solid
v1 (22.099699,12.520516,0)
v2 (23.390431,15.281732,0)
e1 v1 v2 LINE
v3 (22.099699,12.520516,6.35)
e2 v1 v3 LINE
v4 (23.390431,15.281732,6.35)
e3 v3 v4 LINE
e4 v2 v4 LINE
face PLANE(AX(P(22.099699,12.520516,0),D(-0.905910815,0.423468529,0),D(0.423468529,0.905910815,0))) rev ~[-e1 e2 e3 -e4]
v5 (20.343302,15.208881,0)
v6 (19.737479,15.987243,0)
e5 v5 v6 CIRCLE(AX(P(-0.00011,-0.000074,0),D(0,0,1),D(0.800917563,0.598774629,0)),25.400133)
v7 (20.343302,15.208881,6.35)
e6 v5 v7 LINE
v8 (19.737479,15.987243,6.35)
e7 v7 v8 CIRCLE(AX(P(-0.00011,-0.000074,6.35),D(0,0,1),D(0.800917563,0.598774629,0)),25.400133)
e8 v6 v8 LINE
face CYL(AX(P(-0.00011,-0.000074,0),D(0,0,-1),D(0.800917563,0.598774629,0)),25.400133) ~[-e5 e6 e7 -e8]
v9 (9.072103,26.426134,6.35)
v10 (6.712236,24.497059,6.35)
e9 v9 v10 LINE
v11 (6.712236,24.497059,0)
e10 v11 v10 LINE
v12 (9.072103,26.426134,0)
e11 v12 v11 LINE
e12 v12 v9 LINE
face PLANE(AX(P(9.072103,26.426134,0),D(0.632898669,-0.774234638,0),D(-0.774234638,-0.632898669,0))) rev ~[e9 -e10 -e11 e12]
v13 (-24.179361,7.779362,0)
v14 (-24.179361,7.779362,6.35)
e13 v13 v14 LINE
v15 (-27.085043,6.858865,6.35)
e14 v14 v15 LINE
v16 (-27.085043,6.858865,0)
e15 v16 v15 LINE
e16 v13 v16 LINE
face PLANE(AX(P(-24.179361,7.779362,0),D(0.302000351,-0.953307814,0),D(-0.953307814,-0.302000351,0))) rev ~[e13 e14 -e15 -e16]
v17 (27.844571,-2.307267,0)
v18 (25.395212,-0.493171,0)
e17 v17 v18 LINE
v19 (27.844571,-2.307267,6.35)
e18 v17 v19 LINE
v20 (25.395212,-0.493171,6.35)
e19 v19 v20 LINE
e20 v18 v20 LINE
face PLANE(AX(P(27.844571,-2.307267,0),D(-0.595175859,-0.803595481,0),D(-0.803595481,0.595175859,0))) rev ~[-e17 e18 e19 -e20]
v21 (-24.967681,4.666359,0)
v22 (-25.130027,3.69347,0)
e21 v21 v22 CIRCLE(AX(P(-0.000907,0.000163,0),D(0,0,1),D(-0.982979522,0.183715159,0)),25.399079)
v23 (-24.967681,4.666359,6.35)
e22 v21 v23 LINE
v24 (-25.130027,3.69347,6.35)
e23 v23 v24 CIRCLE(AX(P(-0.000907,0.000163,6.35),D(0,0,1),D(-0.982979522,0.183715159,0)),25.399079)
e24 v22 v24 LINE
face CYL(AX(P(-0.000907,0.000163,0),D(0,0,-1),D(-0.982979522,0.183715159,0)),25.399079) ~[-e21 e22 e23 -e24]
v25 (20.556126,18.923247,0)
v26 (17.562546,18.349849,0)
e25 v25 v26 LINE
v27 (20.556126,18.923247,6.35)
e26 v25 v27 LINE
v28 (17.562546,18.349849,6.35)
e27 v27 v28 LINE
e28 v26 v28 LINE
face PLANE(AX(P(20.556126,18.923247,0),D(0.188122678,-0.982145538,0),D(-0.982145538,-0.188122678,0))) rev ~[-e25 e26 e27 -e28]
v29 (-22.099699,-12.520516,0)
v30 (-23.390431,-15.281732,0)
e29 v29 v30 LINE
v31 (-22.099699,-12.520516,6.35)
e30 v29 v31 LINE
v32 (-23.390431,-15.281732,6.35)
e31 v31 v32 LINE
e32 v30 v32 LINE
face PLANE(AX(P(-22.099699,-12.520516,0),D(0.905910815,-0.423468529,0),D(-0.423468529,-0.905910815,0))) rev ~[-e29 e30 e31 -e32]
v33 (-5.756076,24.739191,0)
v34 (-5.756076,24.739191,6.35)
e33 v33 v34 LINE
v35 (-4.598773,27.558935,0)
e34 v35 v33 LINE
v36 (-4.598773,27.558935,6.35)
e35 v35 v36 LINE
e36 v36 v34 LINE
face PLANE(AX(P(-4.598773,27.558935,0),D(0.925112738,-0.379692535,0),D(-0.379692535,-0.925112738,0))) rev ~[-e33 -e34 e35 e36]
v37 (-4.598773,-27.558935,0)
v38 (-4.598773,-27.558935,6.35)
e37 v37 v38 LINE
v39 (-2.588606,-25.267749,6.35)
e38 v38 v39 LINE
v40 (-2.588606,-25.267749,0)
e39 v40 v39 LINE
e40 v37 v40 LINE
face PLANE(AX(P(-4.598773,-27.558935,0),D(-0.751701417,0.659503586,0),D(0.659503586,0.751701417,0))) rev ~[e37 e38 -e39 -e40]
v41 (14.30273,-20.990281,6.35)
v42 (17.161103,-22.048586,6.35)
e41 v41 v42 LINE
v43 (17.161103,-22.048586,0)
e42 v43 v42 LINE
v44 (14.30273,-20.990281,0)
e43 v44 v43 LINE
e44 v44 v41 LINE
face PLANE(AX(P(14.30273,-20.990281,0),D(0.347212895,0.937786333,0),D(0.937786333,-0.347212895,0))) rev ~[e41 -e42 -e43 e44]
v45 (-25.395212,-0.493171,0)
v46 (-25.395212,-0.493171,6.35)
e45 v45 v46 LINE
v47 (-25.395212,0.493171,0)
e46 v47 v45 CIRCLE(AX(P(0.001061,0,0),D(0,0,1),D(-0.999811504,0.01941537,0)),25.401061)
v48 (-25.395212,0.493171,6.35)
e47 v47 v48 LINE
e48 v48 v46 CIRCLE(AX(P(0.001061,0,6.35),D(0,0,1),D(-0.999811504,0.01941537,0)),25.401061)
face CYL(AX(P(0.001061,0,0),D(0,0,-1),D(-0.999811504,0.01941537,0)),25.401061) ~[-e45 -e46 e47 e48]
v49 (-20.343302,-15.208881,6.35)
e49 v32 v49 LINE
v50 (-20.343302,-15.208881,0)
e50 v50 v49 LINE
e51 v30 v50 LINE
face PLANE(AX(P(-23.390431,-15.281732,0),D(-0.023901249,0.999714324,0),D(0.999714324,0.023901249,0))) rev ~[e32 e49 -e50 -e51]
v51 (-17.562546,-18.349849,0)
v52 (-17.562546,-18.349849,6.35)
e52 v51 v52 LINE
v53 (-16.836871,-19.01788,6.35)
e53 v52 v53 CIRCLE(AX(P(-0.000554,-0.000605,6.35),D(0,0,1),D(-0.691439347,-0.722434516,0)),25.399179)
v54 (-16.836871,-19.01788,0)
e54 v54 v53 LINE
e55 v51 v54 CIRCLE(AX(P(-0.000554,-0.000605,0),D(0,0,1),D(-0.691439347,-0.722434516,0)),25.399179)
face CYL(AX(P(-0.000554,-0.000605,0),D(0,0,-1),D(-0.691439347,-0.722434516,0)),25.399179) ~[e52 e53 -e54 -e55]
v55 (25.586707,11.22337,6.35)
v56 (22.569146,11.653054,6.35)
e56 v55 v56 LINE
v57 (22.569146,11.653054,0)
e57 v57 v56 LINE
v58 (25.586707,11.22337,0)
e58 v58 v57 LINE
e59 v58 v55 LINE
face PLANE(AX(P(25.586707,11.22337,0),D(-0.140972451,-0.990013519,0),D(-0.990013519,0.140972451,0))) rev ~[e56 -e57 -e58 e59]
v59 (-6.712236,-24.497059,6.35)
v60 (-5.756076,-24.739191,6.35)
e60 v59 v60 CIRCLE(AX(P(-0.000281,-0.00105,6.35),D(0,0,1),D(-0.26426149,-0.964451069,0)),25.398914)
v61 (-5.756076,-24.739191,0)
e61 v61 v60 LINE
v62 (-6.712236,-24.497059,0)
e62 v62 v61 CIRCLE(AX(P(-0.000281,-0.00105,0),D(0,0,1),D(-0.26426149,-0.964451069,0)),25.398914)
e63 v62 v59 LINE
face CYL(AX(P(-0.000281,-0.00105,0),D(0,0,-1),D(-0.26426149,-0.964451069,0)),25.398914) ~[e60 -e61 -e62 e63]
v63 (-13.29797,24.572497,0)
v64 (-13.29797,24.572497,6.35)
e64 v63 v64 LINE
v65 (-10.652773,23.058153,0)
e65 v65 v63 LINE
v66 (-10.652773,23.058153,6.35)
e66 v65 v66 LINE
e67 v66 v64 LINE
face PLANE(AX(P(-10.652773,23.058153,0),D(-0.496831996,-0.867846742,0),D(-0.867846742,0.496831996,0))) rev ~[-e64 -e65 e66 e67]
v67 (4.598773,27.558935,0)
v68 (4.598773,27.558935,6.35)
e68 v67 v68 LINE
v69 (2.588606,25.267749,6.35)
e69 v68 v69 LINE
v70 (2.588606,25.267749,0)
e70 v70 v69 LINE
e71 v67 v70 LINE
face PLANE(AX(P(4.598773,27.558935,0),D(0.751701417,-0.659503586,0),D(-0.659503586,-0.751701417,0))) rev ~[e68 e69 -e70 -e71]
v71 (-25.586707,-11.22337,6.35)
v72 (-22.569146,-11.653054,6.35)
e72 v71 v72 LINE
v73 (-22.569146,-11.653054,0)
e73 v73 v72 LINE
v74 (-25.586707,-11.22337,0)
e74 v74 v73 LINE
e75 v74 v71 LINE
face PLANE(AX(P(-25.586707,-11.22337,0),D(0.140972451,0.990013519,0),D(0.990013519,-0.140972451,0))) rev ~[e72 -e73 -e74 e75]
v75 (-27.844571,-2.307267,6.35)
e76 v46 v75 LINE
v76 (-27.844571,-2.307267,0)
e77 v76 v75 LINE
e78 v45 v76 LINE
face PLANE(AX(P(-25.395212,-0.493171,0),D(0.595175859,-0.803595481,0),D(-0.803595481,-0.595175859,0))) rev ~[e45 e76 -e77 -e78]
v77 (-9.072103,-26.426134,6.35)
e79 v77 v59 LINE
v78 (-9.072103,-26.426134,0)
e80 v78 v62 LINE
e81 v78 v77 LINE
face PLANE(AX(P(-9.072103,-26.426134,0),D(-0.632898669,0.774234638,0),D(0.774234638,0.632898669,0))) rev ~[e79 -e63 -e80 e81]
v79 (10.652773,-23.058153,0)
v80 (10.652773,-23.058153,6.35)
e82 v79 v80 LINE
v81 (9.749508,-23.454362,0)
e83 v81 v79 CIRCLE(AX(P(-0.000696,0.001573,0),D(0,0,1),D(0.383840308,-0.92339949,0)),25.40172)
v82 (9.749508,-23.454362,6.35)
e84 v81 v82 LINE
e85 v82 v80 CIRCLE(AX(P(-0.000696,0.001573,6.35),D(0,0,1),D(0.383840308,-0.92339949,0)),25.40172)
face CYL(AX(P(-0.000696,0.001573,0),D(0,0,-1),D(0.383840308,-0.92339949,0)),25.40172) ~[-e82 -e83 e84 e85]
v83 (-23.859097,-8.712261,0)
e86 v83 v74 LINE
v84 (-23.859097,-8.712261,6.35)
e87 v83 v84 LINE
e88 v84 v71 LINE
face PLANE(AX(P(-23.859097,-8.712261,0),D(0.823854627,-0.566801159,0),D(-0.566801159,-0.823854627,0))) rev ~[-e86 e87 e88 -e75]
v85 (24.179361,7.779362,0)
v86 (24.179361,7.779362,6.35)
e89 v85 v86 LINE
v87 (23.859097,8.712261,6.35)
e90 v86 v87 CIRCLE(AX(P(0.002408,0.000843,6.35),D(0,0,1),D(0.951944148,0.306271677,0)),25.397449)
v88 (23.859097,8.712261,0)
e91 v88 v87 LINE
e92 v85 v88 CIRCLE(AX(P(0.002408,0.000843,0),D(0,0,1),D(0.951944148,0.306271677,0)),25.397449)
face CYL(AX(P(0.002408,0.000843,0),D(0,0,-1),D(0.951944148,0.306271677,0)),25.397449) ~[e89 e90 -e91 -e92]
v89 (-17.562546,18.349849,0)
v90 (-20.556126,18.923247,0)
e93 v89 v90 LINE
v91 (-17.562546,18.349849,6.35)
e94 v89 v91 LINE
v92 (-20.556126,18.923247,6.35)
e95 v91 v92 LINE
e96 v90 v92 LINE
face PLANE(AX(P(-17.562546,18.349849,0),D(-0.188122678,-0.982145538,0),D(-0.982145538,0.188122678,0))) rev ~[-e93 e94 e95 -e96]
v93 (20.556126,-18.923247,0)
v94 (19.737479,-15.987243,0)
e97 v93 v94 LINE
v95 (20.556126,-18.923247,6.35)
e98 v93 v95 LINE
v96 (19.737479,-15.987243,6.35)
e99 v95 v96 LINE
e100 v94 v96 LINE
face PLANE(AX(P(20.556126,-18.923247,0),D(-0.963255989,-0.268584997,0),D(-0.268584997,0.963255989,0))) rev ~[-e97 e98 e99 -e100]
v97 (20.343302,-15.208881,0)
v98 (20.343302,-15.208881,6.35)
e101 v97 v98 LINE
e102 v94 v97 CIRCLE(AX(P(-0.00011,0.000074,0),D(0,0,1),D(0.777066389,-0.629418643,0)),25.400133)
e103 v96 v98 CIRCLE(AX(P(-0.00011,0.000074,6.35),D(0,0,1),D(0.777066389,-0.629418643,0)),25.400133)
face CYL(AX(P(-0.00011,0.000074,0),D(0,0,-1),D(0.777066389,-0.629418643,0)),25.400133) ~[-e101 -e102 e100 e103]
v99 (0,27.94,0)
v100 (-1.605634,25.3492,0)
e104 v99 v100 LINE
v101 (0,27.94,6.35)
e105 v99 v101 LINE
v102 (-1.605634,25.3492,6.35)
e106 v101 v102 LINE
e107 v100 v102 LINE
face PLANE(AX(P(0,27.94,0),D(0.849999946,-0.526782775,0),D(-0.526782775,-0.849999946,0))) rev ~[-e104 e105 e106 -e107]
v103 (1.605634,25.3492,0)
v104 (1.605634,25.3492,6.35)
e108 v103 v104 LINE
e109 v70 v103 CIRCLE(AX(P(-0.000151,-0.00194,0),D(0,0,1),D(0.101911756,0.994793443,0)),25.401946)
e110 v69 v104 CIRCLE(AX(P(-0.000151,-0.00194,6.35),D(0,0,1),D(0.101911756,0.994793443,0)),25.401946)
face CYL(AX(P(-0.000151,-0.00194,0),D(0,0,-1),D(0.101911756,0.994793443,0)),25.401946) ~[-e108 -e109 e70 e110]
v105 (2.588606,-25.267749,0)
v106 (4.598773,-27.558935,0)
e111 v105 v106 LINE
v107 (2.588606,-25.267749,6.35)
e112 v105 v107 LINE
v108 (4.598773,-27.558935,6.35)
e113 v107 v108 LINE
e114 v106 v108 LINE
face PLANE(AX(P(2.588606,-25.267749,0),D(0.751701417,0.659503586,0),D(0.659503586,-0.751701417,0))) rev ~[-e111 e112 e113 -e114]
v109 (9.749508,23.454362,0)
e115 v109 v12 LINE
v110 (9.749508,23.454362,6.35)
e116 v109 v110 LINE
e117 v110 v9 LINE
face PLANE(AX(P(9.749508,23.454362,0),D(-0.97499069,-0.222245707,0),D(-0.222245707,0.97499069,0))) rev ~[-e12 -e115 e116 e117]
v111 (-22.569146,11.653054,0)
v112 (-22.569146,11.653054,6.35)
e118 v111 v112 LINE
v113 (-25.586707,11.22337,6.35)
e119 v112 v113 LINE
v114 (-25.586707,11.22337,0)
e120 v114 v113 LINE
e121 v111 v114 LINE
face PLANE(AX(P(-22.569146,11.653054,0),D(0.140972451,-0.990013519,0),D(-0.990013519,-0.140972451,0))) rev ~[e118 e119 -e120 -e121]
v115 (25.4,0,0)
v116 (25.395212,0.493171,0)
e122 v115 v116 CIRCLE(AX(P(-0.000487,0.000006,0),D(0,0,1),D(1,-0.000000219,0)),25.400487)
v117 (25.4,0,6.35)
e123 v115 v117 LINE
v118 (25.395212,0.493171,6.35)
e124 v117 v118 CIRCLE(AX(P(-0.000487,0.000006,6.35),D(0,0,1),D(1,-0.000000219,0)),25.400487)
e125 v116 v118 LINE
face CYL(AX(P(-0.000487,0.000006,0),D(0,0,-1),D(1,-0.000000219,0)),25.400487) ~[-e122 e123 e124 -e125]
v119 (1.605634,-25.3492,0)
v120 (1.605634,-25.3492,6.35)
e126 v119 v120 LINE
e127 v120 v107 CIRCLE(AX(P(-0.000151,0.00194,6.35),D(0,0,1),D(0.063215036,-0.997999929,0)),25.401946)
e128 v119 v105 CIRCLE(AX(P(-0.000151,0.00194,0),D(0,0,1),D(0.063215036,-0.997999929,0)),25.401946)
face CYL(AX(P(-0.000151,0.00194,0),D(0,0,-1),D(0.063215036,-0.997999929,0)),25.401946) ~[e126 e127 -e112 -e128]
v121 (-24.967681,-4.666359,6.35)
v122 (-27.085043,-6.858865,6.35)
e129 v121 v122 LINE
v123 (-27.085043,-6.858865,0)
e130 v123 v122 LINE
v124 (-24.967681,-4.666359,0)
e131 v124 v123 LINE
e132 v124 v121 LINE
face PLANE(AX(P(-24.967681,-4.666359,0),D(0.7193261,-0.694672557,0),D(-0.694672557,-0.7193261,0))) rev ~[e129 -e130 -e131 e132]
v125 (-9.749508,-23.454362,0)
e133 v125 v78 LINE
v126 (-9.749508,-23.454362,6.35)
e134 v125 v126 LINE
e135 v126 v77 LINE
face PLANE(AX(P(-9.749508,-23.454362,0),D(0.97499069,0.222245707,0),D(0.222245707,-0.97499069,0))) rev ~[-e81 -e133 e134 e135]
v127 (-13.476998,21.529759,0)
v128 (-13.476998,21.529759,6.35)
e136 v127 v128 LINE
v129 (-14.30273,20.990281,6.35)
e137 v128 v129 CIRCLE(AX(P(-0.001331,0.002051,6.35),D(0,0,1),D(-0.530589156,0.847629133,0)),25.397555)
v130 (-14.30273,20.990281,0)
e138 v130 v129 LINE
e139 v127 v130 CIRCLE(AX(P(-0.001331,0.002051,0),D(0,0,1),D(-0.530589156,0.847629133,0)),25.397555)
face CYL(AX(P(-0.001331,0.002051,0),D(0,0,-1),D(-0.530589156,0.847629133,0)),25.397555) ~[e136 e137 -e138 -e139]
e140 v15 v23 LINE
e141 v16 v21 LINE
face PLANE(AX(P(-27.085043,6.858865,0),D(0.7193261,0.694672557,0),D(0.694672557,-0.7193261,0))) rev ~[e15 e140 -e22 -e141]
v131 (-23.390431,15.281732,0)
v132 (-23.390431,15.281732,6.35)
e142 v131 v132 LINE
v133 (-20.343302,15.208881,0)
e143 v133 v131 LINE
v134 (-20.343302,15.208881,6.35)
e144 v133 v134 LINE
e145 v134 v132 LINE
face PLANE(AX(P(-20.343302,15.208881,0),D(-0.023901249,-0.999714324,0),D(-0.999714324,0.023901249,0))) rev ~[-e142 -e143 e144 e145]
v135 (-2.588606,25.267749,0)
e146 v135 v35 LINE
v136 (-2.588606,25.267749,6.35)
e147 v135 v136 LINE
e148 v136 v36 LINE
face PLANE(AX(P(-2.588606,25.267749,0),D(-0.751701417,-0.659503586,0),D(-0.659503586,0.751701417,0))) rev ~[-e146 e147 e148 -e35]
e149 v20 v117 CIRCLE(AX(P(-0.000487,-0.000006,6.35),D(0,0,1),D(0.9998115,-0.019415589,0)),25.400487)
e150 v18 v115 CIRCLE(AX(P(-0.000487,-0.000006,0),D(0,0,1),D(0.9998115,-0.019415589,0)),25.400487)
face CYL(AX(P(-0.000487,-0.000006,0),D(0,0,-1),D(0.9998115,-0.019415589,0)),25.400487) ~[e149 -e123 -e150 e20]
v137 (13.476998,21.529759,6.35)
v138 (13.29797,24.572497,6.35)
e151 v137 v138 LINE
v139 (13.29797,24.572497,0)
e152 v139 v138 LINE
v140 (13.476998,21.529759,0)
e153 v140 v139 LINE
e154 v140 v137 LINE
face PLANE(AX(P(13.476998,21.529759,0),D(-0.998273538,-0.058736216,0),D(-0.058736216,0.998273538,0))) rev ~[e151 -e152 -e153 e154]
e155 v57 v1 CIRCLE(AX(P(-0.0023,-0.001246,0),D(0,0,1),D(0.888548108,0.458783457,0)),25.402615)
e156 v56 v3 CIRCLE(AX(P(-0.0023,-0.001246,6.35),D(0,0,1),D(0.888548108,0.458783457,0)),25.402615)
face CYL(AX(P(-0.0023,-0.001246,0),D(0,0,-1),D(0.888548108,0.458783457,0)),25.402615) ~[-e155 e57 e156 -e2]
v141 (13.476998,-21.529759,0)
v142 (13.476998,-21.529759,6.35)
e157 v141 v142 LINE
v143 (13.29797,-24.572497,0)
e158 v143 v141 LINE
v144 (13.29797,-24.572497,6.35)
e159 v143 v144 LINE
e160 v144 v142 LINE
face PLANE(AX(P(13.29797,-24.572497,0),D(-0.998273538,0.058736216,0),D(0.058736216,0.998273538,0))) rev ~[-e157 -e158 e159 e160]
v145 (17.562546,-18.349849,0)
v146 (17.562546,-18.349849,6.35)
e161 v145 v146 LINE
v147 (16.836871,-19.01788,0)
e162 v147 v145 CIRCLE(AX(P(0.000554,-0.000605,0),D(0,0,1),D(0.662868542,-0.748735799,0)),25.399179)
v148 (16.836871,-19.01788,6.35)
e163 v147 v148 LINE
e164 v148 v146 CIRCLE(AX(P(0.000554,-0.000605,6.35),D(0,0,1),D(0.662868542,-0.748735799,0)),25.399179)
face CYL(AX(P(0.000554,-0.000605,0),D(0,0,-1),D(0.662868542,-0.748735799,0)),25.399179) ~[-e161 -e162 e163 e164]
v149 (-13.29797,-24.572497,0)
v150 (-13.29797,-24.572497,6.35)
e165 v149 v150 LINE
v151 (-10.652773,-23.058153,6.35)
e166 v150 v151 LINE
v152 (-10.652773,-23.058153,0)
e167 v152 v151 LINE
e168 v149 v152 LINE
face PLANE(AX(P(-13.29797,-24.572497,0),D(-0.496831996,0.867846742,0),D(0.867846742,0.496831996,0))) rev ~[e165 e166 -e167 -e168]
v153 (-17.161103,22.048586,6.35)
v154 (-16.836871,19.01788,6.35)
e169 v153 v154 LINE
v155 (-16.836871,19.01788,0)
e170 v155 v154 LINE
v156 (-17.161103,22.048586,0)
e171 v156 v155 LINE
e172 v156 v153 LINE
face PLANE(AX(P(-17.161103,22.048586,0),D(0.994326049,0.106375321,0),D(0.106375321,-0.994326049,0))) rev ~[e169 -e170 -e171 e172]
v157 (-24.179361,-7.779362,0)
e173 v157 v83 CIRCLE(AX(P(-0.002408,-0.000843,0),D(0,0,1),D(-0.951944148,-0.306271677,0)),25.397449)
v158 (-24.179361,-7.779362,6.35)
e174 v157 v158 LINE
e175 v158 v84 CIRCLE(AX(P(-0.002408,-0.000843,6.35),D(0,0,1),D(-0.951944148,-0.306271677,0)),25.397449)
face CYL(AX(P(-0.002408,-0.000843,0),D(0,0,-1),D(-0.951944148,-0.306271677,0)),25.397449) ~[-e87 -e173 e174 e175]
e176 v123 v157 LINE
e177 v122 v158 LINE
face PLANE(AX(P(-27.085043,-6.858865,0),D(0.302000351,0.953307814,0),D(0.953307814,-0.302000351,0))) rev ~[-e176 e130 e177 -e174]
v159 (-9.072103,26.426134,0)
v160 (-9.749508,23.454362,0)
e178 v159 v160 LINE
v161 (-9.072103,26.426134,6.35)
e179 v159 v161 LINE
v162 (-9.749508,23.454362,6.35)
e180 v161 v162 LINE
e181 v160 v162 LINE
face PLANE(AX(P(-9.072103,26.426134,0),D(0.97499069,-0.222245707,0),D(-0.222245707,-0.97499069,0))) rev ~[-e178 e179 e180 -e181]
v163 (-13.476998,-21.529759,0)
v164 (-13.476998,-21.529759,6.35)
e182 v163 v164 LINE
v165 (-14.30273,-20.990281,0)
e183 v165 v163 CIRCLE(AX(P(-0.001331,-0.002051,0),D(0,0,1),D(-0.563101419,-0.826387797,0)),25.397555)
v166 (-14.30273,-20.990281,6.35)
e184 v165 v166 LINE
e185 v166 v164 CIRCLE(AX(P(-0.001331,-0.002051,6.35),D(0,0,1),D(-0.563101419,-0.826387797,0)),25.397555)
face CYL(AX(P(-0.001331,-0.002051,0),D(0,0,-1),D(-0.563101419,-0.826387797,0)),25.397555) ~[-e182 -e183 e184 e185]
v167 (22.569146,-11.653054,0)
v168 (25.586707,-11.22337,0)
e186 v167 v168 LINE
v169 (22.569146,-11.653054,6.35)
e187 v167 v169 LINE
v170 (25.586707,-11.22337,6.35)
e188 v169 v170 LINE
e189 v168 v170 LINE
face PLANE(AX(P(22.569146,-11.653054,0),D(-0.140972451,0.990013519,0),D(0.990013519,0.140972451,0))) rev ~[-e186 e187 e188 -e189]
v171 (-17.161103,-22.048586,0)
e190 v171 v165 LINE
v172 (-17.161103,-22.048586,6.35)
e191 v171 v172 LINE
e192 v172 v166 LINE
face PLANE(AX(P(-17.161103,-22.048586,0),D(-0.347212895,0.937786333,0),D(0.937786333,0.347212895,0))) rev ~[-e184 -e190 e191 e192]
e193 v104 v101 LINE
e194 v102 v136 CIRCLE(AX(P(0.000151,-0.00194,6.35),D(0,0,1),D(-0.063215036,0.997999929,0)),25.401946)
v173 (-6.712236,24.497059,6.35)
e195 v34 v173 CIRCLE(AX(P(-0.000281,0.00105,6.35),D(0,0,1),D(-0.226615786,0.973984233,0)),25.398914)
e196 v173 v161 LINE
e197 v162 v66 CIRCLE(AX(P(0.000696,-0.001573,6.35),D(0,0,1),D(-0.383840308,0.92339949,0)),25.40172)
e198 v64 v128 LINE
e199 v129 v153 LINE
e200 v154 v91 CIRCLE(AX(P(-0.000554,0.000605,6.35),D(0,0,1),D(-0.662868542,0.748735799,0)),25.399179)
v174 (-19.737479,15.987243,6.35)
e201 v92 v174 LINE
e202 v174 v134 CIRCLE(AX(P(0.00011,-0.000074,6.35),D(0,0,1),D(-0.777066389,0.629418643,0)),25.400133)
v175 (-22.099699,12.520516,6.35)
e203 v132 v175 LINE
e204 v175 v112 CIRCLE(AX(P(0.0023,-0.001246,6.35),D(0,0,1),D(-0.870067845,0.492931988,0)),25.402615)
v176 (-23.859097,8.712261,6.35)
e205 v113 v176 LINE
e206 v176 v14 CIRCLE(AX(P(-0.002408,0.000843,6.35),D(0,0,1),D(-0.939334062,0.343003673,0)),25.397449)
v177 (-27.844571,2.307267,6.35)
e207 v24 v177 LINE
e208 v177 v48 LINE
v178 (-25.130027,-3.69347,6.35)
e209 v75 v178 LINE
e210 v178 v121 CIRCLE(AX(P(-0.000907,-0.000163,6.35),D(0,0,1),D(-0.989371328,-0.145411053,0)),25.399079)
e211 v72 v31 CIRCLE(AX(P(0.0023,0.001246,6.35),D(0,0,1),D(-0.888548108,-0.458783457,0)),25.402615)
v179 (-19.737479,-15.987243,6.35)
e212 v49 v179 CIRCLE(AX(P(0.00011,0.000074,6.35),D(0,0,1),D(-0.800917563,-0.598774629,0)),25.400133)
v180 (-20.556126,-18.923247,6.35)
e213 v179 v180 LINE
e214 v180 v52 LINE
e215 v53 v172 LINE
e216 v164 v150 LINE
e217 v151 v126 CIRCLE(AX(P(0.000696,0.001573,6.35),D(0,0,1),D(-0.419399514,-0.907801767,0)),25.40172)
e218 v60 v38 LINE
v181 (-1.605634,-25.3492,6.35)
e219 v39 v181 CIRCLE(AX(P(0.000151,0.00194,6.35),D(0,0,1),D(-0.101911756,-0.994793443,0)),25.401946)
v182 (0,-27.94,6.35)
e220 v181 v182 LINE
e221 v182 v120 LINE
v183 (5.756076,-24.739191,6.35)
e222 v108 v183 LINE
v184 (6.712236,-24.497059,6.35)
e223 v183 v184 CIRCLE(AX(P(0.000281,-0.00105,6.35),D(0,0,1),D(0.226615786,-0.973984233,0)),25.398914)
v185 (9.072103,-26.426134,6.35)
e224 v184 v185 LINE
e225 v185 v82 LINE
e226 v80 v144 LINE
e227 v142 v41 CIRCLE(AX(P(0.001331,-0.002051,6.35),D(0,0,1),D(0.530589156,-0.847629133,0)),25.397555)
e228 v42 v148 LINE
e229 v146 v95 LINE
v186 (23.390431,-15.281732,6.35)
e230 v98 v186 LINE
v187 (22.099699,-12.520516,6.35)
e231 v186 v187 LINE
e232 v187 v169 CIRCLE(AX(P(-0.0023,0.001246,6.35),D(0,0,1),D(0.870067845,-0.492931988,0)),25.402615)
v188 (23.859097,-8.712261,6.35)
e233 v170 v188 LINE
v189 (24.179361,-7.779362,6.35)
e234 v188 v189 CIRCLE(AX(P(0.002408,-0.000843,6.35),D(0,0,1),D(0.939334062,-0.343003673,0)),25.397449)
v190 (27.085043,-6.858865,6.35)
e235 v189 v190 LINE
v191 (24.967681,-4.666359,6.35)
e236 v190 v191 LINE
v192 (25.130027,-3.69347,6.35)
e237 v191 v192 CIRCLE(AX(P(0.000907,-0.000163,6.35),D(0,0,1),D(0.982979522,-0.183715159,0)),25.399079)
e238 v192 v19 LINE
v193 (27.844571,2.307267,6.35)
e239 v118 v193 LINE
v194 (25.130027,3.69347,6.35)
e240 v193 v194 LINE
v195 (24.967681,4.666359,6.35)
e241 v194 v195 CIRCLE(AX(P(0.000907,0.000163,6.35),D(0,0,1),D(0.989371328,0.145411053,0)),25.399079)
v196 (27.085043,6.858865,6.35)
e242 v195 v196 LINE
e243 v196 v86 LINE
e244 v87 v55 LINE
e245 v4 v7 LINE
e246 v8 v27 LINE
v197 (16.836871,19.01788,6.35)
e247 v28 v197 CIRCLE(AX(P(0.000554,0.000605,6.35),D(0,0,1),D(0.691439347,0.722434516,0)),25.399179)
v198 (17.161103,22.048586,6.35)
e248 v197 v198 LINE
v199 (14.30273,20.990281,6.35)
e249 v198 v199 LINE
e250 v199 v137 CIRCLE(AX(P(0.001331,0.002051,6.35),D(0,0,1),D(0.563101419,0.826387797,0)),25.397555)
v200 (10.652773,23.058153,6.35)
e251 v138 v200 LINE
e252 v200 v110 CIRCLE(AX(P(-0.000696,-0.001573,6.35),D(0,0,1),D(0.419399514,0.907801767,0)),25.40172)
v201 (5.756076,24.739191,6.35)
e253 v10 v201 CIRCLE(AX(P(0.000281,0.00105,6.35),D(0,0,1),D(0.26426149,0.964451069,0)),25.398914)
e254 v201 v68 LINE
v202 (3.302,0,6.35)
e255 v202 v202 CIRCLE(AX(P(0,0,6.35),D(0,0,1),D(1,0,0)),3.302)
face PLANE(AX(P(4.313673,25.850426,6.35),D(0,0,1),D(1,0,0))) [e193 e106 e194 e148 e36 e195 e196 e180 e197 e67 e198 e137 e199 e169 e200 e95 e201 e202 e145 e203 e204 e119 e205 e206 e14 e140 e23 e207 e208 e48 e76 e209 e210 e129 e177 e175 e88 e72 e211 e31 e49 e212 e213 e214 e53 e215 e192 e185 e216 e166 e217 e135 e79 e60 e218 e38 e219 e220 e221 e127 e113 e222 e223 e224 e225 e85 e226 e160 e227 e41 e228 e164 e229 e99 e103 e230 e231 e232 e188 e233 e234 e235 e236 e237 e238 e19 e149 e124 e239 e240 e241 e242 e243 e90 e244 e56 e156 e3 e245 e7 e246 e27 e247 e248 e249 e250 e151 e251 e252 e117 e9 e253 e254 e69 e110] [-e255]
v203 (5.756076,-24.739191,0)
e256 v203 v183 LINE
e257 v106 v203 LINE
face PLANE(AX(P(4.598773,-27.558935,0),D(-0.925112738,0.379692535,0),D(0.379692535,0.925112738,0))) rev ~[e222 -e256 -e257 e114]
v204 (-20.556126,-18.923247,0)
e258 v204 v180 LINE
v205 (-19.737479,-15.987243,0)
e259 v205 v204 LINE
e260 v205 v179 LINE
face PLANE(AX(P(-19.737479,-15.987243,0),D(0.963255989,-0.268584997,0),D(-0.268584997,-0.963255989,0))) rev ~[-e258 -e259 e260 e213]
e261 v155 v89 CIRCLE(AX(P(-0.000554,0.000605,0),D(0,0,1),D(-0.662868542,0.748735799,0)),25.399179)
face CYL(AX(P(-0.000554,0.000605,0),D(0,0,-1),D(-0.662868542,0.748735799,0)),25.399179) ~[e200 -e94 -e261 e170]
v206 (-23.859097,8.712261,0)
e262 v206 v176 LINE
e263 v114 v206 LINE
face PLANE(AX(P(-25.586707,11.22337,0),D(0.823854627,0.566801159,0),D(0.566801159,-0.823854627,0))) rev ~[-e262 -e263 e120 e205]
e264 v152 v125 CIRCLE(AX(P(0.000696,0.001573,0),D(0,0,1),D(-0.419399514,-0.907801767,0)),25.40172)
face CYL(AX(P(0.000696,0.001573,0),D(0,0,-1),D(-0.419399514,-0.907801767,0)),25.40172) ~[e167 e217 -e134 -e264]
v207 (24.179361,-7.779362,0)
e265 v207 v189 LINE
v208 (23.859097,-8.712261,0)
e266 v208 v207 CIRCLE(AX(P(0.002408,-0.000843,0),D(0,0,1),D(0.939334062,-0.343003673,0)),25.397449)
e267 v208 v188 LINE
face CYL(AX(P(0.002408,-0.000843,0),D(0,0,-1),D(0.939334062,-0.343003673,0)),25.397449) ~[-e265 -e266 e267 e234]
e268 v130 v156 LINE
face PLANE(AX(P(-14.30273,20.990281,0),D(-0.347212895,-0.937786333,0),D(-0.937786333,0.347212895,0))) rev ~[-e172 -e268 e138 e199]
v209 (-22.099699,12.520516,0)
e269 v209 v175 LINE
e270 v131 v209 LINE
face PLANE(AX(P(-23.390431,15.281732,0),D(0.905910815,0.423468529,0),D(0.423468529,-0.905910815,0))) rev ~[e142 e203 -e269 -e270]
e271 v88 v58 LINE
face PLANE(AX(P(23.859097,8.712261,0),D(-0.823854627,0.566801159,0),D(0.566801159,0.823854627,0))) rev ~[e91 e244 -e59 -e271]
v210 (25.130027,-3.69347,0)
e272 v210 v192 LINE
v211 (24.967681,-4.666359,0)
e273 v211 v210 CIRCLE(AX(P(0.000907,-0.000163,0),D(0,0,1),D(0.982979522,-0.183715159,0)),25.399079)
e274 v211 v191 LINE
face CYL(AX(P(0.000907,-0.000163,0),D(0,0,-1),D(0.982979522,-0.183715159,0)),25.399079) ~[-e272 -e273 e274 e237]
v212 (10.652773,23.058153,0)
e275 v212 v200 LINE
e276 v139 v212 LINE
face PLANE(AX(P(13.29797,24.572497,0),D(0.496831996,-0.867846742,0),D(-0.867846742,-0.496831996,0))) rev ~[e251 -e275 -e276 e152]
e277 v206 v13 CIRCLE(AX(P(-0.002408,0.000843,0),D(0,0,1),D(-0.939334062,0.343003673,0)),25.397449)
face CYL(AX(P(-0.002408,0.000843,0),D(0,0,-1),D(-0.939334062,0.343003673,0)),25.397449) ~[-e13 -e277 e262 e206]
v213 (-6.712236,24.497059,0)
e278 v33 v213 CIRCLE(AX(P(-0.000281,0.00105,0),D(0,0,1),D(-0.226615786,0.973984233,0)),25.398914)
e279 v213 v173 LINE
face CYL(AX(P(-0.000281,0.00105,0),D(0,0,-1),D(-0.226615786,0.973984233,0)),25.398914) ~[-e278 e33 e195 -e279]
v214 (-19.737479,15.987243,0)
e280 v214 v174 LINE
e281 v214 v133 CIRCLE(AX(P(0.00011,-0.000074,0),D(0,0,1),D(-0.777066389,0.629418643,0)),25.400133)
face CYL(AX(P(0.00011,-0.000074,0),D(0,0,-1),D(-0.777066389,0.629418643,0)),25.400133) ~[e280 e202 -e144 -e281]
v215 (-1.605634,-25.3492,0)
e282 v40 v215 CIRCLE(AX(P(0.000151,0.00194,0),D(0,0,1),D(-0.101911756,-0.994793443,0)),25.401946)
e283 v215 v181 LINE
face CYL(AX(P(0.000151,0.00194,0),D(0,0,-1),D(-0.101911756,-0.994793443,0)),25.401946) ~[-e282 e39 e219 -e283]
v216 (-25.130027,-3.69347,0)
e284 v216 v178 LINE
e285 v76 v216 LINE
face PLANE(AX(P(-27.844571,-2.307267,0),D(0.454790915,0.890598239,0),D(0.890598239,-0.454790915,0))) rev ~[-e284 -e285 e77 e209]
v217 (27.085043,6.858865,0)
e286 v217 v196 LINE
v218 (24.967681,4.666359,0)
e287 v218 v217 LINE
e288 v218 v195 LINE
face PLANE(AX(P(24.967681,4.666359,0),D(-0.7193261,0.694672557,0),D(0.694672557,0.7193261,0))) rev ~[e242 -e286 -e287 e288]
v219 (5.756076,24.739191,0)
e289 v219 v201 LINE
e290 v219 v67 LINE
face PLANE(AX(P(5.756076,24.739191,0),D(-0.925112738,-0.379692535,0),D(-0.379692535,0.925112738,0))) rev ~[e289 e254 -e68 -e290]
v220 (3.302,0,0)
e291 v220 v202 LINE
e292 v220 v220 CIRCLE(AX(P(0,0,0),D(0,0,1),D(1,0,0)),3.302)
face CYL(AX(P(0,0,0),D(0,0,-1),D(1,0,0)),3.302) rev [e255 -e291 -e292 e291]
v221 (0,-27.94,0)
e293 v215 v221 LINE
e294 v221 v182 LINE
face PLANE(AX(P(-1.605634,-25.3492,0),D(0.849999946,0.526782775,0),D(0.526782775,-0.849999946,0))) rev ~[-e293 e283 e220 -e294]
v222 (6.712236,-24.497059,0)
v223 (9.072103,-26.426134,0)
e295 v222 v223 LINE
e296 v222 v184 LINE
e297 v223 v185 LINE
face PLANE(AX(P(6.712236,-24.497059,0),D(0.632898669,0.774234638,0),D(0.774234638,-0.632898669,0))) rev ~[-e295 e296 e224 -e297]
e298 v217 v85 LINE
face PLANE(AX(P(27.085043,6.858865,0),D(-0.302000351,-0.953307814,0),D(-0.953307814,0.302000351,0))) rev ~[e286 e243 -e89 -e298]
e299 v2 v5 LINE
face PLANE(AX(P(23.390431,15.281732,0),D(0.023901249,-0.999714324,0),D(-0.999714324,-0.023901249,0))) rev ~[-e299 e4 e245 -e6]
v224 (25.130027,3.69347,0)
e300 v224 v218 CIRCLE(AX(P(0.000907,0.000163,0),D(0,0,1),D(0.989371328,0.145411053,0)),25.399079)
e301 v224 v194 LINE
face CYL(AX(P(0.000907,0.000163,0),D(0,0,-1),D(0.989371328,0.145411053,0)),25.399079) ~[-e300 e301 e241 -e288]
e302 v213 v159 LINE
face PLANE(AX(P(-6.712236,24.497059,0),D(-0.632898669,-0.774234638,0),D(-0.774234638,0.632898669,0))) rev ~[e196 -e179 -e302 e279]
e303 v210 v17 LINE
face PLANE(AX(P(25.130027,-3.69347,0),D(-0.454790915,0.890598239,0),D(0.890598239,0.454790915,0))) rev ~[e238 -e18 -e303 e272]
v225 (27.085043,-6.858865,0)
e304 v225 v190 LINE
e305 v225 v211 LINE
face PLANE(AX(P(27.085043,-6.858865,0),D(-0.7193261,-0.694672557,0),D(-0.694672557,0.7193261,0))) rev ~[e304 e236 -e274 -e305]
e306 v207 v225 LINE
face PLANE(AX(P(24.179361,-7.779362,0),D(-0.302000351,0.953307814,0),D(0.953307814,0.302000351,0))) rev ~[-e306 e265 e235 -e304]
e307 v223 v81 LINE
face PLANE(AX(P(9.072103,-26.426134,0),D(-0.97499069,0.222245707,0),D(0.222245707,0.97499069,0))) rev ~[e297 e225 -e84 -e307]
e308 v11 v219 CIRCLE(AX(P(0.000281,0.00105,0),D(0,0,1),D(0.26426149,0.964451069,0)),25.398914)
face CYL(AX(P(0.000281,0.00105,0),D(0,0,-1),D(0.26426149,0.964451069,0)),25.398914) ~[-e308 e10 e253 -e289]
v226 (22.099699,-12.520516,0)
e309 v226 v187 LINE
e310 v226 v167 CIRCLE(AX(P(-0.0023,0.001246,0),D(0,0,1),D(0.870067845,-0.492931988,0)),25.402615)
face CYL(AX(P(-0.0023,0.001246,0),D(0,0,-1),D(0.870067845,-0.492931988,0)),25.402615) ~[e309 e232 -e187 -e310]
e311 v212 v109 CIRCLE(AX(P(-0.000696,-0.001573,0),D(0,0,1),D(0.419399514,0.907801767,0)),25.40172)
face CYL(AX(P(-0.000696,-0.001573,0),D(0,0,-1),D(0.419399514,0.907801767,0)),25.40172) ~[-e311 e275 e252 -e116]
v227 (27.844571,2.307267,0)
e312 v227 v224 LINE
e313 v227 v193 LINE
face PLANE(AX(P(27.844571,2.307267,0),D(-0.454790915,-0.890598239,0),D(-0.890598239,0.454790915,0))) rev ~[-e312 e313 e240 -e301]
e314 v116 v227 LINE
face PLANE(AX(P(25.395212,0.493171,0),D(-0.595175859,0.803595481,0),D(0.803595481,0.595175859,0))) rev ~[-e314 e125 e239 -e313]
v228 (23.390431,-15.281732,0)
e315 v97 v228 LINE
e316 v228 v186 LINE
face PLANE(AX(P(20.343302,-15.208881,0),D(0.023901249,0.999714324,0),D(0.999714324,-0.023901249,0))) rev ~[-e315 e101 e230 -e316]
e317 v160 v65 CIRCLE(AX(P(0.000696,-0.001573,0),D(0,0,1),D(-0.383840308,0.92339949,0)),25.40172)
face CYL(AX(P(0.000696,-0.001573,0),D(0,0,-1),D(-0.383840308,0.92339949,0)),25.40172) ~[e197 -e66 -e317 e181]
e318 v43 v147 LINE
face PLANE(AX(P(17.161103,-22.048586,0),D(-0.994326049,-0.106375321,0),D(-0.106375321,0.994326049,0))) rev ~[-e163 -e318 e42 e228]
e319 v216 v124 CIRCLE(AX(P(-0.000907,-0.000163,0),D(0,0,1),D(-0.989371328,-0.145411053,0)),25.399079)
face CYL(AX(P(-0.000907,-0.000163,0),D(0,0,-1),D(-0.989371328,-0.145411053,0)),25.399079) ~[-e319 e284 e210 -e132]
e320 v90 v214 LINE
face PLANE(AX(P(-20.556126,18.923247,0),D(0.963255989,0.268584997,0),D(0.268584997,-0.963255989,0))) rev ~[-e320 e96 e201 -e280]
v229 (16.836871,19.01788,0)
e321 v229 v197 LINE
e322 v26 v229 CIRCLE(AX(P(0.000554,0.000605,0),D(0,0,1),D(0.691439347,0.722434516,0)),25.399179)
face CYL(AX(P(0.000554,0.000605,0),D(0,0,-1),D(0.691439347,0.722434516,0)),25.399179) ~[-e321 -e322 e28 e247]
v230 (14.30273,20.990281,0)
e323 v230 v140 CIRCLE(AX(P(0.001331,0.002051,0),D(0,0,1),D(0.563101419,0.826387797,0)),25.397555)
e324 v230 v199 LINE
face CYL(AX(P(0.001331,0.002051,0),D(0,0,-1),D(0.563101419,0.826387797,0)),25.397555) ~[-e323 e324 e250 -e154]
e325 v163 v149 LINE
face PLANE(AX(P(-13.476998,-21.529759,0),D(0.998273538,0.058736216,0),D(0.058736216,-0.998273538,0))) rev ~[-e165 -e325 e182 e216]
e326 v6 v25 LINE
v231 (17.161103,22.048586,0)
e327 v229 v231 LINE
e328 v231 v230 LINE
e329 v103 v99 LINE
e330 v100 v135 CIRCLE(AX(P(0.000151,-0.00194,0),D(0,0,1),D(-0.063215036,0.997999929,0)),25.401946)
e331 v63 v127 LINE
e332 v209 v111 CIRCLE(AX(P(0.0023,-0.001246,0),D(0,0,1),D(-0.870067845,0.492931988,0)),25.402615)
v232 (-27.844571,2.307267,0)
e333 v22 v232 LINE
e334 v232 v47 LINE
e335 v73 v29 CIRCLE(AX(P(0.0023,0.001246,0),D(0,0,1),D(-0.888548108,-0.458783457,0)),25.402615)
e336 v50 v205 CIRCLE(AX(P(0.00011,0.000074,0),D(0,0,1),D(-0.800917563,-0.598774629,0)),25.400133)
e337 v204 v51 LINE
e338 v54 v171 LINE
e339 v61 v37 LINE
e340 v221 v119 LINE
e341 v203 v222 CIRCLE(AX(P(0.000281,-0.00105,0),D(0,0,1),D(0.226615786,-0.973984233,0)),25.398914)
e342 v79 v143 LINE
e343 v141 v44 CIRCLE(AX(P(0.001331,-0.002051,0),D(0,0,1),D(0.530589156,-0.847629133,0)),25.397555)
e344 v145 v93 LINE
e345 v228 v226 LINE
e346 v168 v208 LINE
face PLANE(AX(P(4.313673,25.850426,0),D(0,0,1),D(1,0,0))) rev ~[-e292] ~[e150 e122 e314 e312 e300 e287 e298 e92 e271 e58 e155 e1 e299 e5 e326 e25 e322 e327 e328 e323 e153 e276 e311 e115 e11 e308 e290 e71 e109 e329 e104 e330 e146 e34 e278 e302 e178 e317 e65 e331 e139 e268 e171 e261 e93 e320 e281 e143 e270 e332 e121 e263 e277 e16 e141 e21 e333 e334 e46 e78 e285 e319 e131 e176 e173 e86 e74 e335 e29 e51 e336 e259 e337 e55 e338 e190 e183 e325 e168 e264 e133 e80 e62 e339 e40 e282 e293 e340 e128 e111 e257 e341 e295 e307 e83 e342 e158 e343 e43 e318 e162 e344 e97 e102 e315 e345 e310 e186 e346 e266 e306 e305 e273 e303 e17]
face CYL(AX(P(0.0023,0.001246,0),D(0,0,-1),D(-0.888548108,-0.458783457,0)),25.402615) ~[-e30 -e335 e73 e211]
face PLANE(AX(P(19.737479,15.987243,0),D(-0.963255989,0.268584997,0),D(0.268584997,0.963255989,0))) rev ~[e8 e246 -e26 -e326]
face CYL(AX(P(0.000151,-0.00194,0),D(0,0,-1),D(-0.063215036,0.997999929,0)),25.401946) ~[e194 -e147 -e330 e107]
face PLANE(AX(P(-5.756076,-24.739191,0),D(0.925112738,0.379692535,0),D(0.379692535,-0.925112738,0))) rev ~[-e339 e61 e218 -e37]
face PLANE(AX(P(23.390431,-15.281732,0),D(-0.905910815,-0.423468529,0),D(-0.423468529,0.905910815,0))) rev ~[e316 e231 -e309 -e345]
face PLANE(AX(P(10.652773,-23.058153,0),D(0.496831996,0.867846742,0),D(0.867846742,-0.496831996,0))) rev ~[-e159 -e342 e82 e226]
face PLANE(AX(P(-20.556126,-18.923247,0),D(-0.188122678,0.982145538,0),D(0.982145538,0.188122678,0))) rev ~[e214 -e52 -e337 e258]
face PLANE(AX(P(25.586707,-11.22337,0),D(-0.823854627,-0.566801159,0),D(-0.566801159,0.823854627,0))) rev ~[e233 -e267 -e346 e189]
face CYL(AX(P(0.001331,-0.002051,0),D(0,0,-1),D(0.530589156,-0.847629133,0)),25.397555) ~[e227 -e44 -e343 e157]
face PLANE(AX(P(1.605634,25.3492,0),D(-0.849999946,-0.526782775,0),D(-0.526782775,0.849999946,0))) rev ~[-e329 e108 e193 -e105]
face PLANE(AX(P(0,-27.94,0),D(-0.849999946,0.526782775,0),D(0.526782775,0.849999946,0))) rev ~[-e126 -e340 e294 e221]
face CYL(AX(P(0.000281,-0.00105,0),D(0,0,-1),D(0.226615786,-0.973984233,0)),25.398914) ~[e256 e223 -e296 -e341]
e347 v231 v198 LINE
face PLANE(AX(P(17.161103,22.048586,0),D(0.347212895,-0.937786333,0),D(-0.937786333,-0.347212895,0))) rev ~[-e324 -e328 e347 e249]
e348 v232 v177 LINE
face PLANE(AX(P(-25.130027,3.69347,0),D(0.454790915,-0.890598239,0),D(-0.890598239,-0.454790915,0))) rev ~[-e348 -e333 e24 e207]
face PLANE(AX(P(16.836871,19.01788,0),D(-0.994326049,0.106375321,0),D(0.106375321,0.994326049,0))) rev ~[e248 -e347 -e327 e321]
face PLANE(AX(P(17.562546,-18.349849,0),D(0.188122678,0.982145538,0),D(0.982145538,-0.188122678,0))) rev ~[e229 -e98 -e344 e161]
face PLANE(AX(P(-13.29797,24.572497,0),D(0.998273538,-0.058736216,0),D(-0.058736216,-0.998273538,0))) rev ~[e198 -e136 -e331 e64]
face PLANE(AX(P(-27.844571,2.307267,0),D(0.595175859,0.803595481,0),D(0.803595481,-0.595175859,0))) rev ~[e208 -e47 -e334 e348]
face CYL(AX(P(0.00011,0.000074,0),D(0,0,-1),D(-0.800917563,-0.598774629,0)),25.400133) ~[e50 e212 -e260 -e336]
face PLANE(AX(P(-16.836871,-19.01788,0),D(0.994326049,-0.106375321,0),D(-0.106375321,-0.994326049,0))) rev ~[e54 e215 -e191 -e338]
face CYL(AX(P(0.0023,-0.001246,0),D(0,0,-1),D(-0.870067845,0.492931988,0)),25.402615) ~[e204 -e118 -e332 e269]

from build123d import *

# Parameters (mm, degrees)
F0_R     = 3.302
F1_DEPTH = 6.35


with BuildPart() as f1:
    # F0 (on Top) → F1 (new body)
    with BuildSketch(Plane.XY):
        with BuildLine():
            ThreePointArc((2.588606, 25.267749), (4.180703, 25.053577), (5.756076, 24.739191))
            Line((5.756076, 24.739191), (4.598773, 27.558935))
            Line((4.598773, 27.558935), (2.588606, 25.267749))
        make_face()
        with BuildLine():
            ThreePointArc((6.712236, 24.497059), (8.247367, 24.023758), (9.749508, 23.454362))
            Line((9.749508, 23.454362), (9.072103, 26.426134))
            Line((9.072103, 26.426134), (6.712236, 24.497059))
        make_face()
        with BuildLine():
            ThreePointArc((10.652773, 23.058153), (12.089064, 22.338633), (13.476998, 21.529759))
            Line((13.476998, 21.529759), (13.29797, 24.572497))
            Line((13.29797, 24.572497), (10.652773, 23.058153))
        make_face()
        with BuildLine():
            ThreePointArc((14.30273, 20.990281), (15.601003, 20.044169), (16.836871, 19.01788))
            Line((16.836871, 19.01788), (17.161103, 22.048586))
            Line((17.161103, 22.048586), (14.30273, 20.990281))
        make_face()
        with BuildLine():
            ThreePointArc((17.562546, 18.349849), (18.687387, 17.202952), (19.737479, 15.987243))
            Line((19.737479, 15.987243), (20.556126, 18.923247))
            Line((20.556126, 18.923247), (17.562546, 18.349849))
        make_face()
        with BuildLine():
            ThreePointArc((20.343302, 15.208881), (21.264029, 13.892483), (22.099699, 12.520516))
            Line((22.099699, 12.520516), (23.390431, 15.281732))
            Line((23.390431, 15.281732), (20.343302, 15.208881))
        make_face()
        with BuildLine():
            ThreePointArc((22.569146, 11.653054), (23.260642, 10.203064), (23.859097, 8.712261))
            Line((23.859097, 8.712261), (25.586707, 11.22337))
            Line((25.586707, 11.22337), (22.569146, 11.653054))
        make_face()
        with BuildLine():
            ThreePointArc((24.179361, 7.779362), (24.622767, 6.235331), (24.967681, 4.666359))
            Line((24.967681, 4.666359), (27.085043, 6.858865))
            Line((27.085043, 6.858865), (24.179361, 7.779362))
        make_face()
        with BuildLine():
            ThreePointArc((25.130027, 3.69347), (25.313246, 2.097515), (25.395212, 0.493171))
            Line((25.395212, 0.493171), (27.844571, 2.307267))
            Line((27.844571, 2.307267), (25.130027, 3.69347))
        make_face()
        with BuildLine():
            Line((27.844571, -2.307267), (25.395212, -0.493171))
            ThreePointArc((25.395212, -0.493171), (25.313246, -2.097515), (25.130027, -3.69347))
            Line((25.130027, -3.69347), (27.844571, -2.307267))
        make_face()
        with BuildLine():
            Line((27.085043, -6.858865), (24.967681, -4.666359))
            ThreePointArc((24.967681, -4.666359), (24.622767, -6.235331), (24.179361, -7.779362))
            Line((24.179361, -7.779362), (27.085043, -6.858865))
        make_face()
        with BuildLine():
            Line((25.586707, -11.22337), (23.859097, -8.712261))
            ThreePointArc((23.859097, -8.712261), (23.260642, -10.203064), (22.569146, -11.653054))
            Line((22.569146, -11.653054), (25.586707, -11.22337))
        make_face()
        with BuildLine():
            Line((23.390431, -15.281732), (22.099699, -12.520516))
            ThreePointArc((22.099699, -12.520516), (21.264029, -13.892483), (20.343302, -15.208881))
            Line((20.343302, -15.208881), (23.390431, -15.281732))
        make_face()
        with BuildLine():
            Line((20.556126, -18.923247), (19.737479, -15.987243))
            ThreePointArc((19.737479, -15.987243), (18.687387, -17.202952), (17.562546, -18.349849))
            Line((17.562546, -18.349849), (20.556126, -18.923247))
        make_face()
        with BuildLine():
            Line((17.161103, -22.048586), (16.836871, -19.01788))
            ThreePointArc((16.836871, -19.01788), (15.601003, -20.044169), (14.30273, -20.990281))
            Line((14.30273, -20.990281), (17.161103, -22.048586))
        make_face()
        with BuildLine():
            Line((13.29797, -24.572497), (13.476998, -21.529759))
            ThreePointArc((13.476998, -21.529759), (12.089064, -22.338633), (10.652773, -23.058153))
            Line((10.652773, -23.058153), (13.29797, -24.572497))
        make_face()
        with BuildLine():
            Line((9.072103, -26.426134), (9.749508, -23.454362))
            ThreePointArc((9.749508, -23.454362), (8.247367, -24.023758), (6.712236, -24.497059))
            Line((6.712236, -24.497059), (9.072103, -26.426134))
        make_face()
        with BuildLine():
            Line((-27.085043, -6.858865), (-24.179361, -7.779362))
            ThreePointArc((-24.179361, -7.779362), (-24.622767, -6.235331), (-24.967681, -4.666359))
            Line((-24.967681, -4.666359), (-27.085043, -6.858865))
        make_face()
        with BuildLine():
            Line((-25.586707, -11.22337), (-22.569146, -11.653054))
            ThreePointArc((-22.569146, -11.653054), (-23.260642, -10.203064), (-23.859097, -8.712261))
            Line((-23.859097, -8.712261), (-25.586707, -11.22337))
        make_face()
        with BuildLine():
            Line((-23.390431, -15.281732), (-20.343302, -15.208881))
            ThreePointArc((-20.343302, -15.208881), (-21.264029, -13.892483), (-22.099699, -12.520516))
            Line((-22.099699, -12.520516), (-23.390431, -15.281732))
        make_face()
        with BuildLine():
            Line((-20.556126, -18.923247), (-17.562546, -18.349849))
            ThreePointArc((-17.562546, -18.349849), (-18.687387, -17.202952), (-19.737479, -15.987243))
            Line((-19.737479, -15.987243), (-20.556126, -18.923247))
        make_face()
        with BuildLine():
            ThreePointArc((-23.859097, 8.712261), (-23.260642, 10.203064), (-22.569146, 11.653054))
            Line((-22.569146, 11.653054), (-25.586707, 11.22337))
            Line((-25.586707, 11.22337), (-23.859097, 8.712261))
        make_face()
        with BuildLine():
            ThreePointArc((-24.967681, 4.666359), (-24.622767, 6.235331), (-24.179361, 7.779362))
            Line((-24.179361, 7.779362), (-27.085043, 6.858865))
            Line((-27.085043, 6.858865), (-24.967681, 4.666359))
        make_face()
        with BuildLine():
            ThreePointArc((-22.099699, 12.520516), (-21.264029, 13.892483), (-20.343302, 15.208881))
            Line((-20.343302, 15.208881), (-23.390431, 15.281732))
            Line((-23.390431, 15.281732), (-22.099699, 12.520516))
        make_face()
        with BuildLine():
            ThreePointArc((-9.749508, 23.454362), (-8.247367, 24.023758), (-6.712236, 24.497059))
            Line((-6.712236, 24.497059), (-9.072103, 26.426134))
            Line((-9.072103, 26.426134), (-9.749508, 23.454362))
        make_face()
        with BuildLine():
            ThreePointArc((-16.836871, 19.01788), (-15.601003, 20.044169), (-14.30273, 20.990281))
            Line((-14.30273, 20.990281), (-17.161103, 22.048586))
            Line((-17.161103, 22.048586), (-16.836871, 19.01788))
        make_face()
        with BuildLine():
            Line((-17.161103, -22.048586), (-14.30273, -20.990281))
            ThreePointArc((-14.30273, -20.990281), (-15.601003, -20.044169), (-16.836871, -19.01788))
            Line((-16.836871, -19.01788), (-17.161103, -22.048586))
        make_face()
        with BuildLine():
            ThreePointArc((-25.395212, 0.493171), (-25.313246, 2.097515), (-25.130027, 3.69347))
            Line((-25.130027, 3.69347), (-27.844571, 2.307267))
            Line((-27.844571, 2.307267), (-25.395212, 0.493171))
        make_face()
        with BuildLine():
            Line((-13.29797, -24.572497), (-10.652773, -23.058153))
            ThreePointArc((-10.652773, -23.058153), (-12.089064, -22.338633), (-13.476998, -21.529759))
            Line((-13.476998, -21.529759), (-13.29797, -24.572497))
        make_face()
        with BuildLine():
            Line((-27.844571, -2.307267), (-25.130027, -3.69347))
            ThreePointArc((-25.130027, -3.69347), (-25.313246, -2.097515), (-25.395212, -0.493171))
            Line((-25.395212, -0.493171), (-27.844571, -2.307267))
        make_face()
        with BuildLine():
            Line((-4.598773, -27.558935), (-2.588606, -25.267749))
            ThreePointArc((-2.588606, -25.267749), (-4.180703, -25.053577), (-5.756076, -24.739191))
            Line((-5.756076, -24.739191), (-4.598773, -27.558935))
        make_face()
        with BuildLine():
            Line((0, -27.94), (1.605634, -25.3492))
            ThreePointArc((1.605634, -25.3492), (0, -25.4), (-1.605634, -25.3492))
            Line((-1.605634, -25.3492), (0, -27.94))
        make_face()
        with BuildLine():
            Line((4.598773, -27.558935), (5.756076, -24.739191))
            ThreePointArc((5.756076, -24.739191), (4.180703, -25.053577), (2.588606, -25.267749))
            Line((2.588606, -25.267749), (4.598773, -27.558935))
        make_face()
        with BuildLine():
            ThreePointArc((-19.737479, 15.987243), (-18.687387, 17.202952), (-17.562546, 18.349849))
            Line((-17.562546, 18.349849), (-20.556126, 18.923247))
            Line((-20.556126, 18.923247), (-19.737479, 15.987243))
        make_face()
        with BuildLine():
            ThreePointArc((-5.756076, 24.739191), (-4.180703, 25.053577), (-2.588606, 25.267749))
            Line((-2.588606, 25.267749), (-4.598773, 27.558935))
            Line((-4.598773, 27.558935), (-5.756076, 24.739191))
        make_face()
        with BuildLine():
            ThreePointArc((-13.476998, 21.529759), (-12.089064, 22.338633), (-10.652773, 23.058153))
            Line((-10.652773, 23.058153), (-13.29797, 24.572497))
            Line((-13.29797, 24.572497), (-13.476998, 21.529759))
        make_face()
        with BuildLine():
            Line((-9.072103, -26.426134), (-6.712236, -24.497059))
            ThreePointArc((-6.712236, -24.497059), (-8.247367, -24.023758), (-9.749508, -23.454362))
            Line((-9.749508, -23.454362), (-9.072103, -26.426134))
        make_face()
        with BuildLine():
            ThreePointArc((0, 25.4), (0.803219, 25.387297), (1.605634, 25.3492))
            Line((1.605634, 25.3492), (0, 27.94))
            Line((0, 27.94), (0, 25.4))
        make_face()
        with BuildLine():
            ThreePointArc((-1.605634, 25.3492), (-0.803219, 25.387297), (0, 25.4))
            Line((0, 25.4), (0, 27.94))
            Line((0, 27.94), (-1.605634, 25.3492))
        make_face()
        with BuildLine():
            ThreePointArc((25.395212, -0.493171), (25.398803, -0.246597), (25.4, 0))
            ThreePointArc((25.4, 0), (25.398803, 0.246597), (25.395212, 0.493171))
            ThreePointArc((25.395212, 0.493171), (25.313246, 2.097515), (25.130027, 3.69347))
            ThreePointArc((25.130027, 3.69347), (25.053577, 4.180703), (24.967681, 4.666359))
            ThreePointArc((24.967681, 4.666359), (24.622767, 6.235331), (24.179361, 7.779362))
            ThreePointArc((24.179361, 7.779362), (24.023758, 8.247367), (23.859097, 8.712261))
            ThreePointArc((23.859097, 8.712261), (23.260642, 10.203064), (22.569146, 11.653054))
            ThreePointArc((22.569146, 11.653054), (22.338633, 12.089064), (22.099699, 12.520516))
            ThreePointArc((22.099699, 12.520516), (21.264029, 13.892483), (20.343302, 15.208881))
            ThreePointArc((20.343302, 15.208881), (20.044169, 15.601003), (19.737479, 15.987243))
            ThreePointArc((19.737479, 15.987243), (18.687387, 17.202952), (17.562546, 18.349849))
            ThreePointArc((17.562546, 18.349849), (17.202952, 18.687387), (16.836871, 19.01788))
            ThreePointArc((16.836871, 19.01788), (15.601003, 20.044169), (14.30273, 20.990281))
            ThreePointArc((14.30273, 20.990281), (13.892483, 21.264029), (13.476998, 21.529759))
            ThreePointArc((13.476998, 21.529759), (12.089064, 22.338633), (10.652773, 23.058153))
            ThreePointArc((10.652773, 23.058153), (10.203064, 23.260642), (9.749508, 23.454362))
            ThreePointArc((9.749508, 23.454362), (8.247367, 24.023758), (6.712236, 24.497059))
            ThreePointArc((6.712236, 24.497059), (6.235331, 24.622767), (5.756076, 24.739191))
            ThreePointArc((5.756076, 24.739191), (4.180703, 25.053577), (2.588606, 25.267749))
            ThreePointArc((2.588606, 25.267749), (2.097515, 25.313246), (1.605634, 25.3492))
            ThreePointArc((1.605634, 25.3492), (0.803219, 25.387297), (0, 25.4))
            ThreePointArc((0, 25.4), (-0.803219, 25.387297), (-1.605634, 25.3492))
            ThreePointArc((-1.605634, 25.3492), (-2.097515, 25.313246), (-2.588606, 25.267749))
            ThreePointArc((-2.588606, 25.267749), (-4.180703, 25.053577), (-5.756076, 24.739191))
            ThreePointArc((-5.756076, 24.739191), (-6.235331, 24.622767), (-6.712236, 24.497059))
            ThreePointArc((-6.712236, 24.497059), (-8.247367, 24.023758), (-9.749508, 23.454362))
            ThreePointArc((-9.749508, 23.454362), (-10.203064, 23.260642), (-10.652773, 23.058153))
            ThreePointArc((-10.652773, 23.058153), (-12.089064, 22.338633), (-13.476998, 21.529759))
            ThreePointArc((-13.476998, 21.529759), (-13.892483, 21.264029), (-14.30273, 20.990281))
            ThreePointArc((-14.30273, 20.990281), (-15.601003, 20.044169), (-16.836871, 19.01788))
            ThreePointArc((-16.836871, 19.01788), (-17.202952, 18.687387), (-17.562546, 18.349849))
            ThreePointArc((-17.562546, 18.349849), (-18.687387, 17.202952), (-19.737479, 15.987243))
            ThreePointArc((-19.737479, 15.987243), (-20.044169, 15.601003), (-20.343302, 15.208881))
            ThreePointArc((-20.343302, 15.208881), (-21.264029, 13.892483), (-22.099699, 12.520516))
            ThreePointArc((-22.099699, 12.520516), (-22.338633, 12.089064), (-22.569146, 11.653054))
            ThreePointArc((-22.569146, 11.653054), (-23.260642, 10.203064), (-23.859097, 8.712261))
            ThreePointArc((-23.859097, 8.712261), (-24.023758, 8.247367), (-24.179361, 7.779362))
            ThreePointArc((-24.179361, 7.779362), (-24.622767, 6.235331), (-24.967681, 4.666359))
            ThreePointArc((-24.967681, 4.666359), (-25.053577, 4.180703), (-25.130027, 3.69347))
            ThreePointArc((-25.130027, 3.69347), (-25.313246, 2.097515), (-25.395212, 0.493171))
            ThreePointArc((-25.395212, 0.493171), (-25.4, 0), (-25.395212, -0.493171))
            ThreePointArc((-25.395212, -0.493171), (-25.313246, -2.097515), (-25.130027, -3.69347))
            ThreePointArc((-25.130027, -3.69347), (-25.053577, -4.180703), (-24.967681, -4.666359))
            ThreePointArc((-24.967681, -4.666359), (-24.622767, -6.235331), (-24.179361, -7.779362))
            ThreePointArc((-24.179361, -7.779362), (-24.023758, -8.247367), (-23.859097, -8.712261))
            ThreePointArc((-23.859097, -8.712261), (-23.260642, -10.203064), (-22.569146, -11.653054))
            ThreePointArc((-22.569146, -11.653054), (-22.338633, -12.089064), (-22.099699, -12.520516))
            ThreePointArc((-22.099699, -12.520516), (-21.264029, -13.892483), (-20.343302, -15.208881))
            ThreePointArc((-20.343302, -15.208881), (-20.044169, -15.601003), (-19.737479, -15.987243))
            ThreePointArc((-19.737479, -15.987243), (-18.687387, -17.202952), (-17.562546, -18.349849))
            ThreePointArc((-17.562546, -18.349849), (-17.202952, -18.687387), (-16.836871, -19.01788))
            ThreePointArc((-16.836871, -19.01788), (-15.601003, -20.044169), (-14.30273, -20.990281))
            ThreePointArc((-14.30273, -20.990281), (-13.892483, -21.264029), (-13.476998, -21.529759))
            ThreePointArc((-13.476998, -21.529759), (-12.089064, -22.338633), (-10.652773, -23.058153))
            ThreePointArc((-10.652773, -23.058153), (-10.203064, -23.260642), (-9.749508, -23.454362))
            ThreePointArc((-9.749508, -23.454362), (-8.247367, -24.023758), (-6.712236, -24.497059))
            ThreePointArc((-6.712236, -24.497059), (-6.235331, -24.622767), (-5.756076, -24.739191))
            ThreePointArc((-5.756076, -24.739191), (-4.180703, -25.053577), (-2.588606, -25.267749))
            ThreePointArc((-2.588606, -25.267749), (-2.097515, -25.313246), (-1.605634, -25.3492))
            ThreePointArc((-1.605634, -25.3492), (0, -25.4), (1.605634, -25.3492))
            ThreePointArc((1.605634, -25.3492), (2.097515, -25.313246), (2.588606, -25.267749))
            ThreePointArc((2.588606, -25.267749), (4.180703, -25.053577), (5.756076, -24.739191))
            ThreePointArc((5.756076, -24.739191), (6.235331, -24.622767), (6.712236, -24.497059))
            ThreePointArc((6.712236, -24.497059), (8.247367, -24.023758), (9.749508, -23.454362))
            ThreePointArc((9.749508, -23.454362), (10.203064, -23.260642), (10.652773, -23.058153))
            ThreePointArc((10.652773, -23.058153), (12.089064, -22.338633), (13.476998, -21.529759))
            ThreePointArc((13.476998, -21.529759), (13.892483, -21.264029), (14.30273, -20.990281))
            ThreePointArc((14.30273, -20.990281), (15.601003, -20.044169), (16.836871, -19.01788))
            ThreePointArc((16.836871, -19.01788), (17.202952, -18.687387), (17.562546, -18.349849))
            ThreePointArc((17.562546, -18.349849), (18.687387, -17.202952), (19.737479, -15.987243))
            ThreePointArc((19.737479, -15.987243), (20.044169, -15.601003), (20.343302, -15.208881))
            ThreePointArc((20.343302, -15.208881), (21.264029, -13.892483), (22.099699, -12.520516))
            ThreePointArc((22.099699, -12.520516), (22.338633, -12.089064), (22.569146, -11.653054))
            ThreePointArc((22.569146, -11.653054), (23.260642, -10.203064), (23.859097, -8.712261))
            ThreePointArc((23.859097, -8.712261), (24.023758, -8.247367), (24.179361, -7.779362))
            ThreePointArc((24.179361, -7.779362), (24.622767, -6.235331), (24.967681, -4.666359))
            ThreePointArc((24.967681, -4.666359), (25.053577, -4.180703), (25.130027, -3.69347))
            ThreePointArc((25.130027, -3.69347), (25.313246, -2.097515), (25.395212, -0.493171))
        make_face()
        Circle(F0_R, mode=Mode.SUBTRACT)
    extrude(amount=F1_DEPTH)


solid = f1.part
